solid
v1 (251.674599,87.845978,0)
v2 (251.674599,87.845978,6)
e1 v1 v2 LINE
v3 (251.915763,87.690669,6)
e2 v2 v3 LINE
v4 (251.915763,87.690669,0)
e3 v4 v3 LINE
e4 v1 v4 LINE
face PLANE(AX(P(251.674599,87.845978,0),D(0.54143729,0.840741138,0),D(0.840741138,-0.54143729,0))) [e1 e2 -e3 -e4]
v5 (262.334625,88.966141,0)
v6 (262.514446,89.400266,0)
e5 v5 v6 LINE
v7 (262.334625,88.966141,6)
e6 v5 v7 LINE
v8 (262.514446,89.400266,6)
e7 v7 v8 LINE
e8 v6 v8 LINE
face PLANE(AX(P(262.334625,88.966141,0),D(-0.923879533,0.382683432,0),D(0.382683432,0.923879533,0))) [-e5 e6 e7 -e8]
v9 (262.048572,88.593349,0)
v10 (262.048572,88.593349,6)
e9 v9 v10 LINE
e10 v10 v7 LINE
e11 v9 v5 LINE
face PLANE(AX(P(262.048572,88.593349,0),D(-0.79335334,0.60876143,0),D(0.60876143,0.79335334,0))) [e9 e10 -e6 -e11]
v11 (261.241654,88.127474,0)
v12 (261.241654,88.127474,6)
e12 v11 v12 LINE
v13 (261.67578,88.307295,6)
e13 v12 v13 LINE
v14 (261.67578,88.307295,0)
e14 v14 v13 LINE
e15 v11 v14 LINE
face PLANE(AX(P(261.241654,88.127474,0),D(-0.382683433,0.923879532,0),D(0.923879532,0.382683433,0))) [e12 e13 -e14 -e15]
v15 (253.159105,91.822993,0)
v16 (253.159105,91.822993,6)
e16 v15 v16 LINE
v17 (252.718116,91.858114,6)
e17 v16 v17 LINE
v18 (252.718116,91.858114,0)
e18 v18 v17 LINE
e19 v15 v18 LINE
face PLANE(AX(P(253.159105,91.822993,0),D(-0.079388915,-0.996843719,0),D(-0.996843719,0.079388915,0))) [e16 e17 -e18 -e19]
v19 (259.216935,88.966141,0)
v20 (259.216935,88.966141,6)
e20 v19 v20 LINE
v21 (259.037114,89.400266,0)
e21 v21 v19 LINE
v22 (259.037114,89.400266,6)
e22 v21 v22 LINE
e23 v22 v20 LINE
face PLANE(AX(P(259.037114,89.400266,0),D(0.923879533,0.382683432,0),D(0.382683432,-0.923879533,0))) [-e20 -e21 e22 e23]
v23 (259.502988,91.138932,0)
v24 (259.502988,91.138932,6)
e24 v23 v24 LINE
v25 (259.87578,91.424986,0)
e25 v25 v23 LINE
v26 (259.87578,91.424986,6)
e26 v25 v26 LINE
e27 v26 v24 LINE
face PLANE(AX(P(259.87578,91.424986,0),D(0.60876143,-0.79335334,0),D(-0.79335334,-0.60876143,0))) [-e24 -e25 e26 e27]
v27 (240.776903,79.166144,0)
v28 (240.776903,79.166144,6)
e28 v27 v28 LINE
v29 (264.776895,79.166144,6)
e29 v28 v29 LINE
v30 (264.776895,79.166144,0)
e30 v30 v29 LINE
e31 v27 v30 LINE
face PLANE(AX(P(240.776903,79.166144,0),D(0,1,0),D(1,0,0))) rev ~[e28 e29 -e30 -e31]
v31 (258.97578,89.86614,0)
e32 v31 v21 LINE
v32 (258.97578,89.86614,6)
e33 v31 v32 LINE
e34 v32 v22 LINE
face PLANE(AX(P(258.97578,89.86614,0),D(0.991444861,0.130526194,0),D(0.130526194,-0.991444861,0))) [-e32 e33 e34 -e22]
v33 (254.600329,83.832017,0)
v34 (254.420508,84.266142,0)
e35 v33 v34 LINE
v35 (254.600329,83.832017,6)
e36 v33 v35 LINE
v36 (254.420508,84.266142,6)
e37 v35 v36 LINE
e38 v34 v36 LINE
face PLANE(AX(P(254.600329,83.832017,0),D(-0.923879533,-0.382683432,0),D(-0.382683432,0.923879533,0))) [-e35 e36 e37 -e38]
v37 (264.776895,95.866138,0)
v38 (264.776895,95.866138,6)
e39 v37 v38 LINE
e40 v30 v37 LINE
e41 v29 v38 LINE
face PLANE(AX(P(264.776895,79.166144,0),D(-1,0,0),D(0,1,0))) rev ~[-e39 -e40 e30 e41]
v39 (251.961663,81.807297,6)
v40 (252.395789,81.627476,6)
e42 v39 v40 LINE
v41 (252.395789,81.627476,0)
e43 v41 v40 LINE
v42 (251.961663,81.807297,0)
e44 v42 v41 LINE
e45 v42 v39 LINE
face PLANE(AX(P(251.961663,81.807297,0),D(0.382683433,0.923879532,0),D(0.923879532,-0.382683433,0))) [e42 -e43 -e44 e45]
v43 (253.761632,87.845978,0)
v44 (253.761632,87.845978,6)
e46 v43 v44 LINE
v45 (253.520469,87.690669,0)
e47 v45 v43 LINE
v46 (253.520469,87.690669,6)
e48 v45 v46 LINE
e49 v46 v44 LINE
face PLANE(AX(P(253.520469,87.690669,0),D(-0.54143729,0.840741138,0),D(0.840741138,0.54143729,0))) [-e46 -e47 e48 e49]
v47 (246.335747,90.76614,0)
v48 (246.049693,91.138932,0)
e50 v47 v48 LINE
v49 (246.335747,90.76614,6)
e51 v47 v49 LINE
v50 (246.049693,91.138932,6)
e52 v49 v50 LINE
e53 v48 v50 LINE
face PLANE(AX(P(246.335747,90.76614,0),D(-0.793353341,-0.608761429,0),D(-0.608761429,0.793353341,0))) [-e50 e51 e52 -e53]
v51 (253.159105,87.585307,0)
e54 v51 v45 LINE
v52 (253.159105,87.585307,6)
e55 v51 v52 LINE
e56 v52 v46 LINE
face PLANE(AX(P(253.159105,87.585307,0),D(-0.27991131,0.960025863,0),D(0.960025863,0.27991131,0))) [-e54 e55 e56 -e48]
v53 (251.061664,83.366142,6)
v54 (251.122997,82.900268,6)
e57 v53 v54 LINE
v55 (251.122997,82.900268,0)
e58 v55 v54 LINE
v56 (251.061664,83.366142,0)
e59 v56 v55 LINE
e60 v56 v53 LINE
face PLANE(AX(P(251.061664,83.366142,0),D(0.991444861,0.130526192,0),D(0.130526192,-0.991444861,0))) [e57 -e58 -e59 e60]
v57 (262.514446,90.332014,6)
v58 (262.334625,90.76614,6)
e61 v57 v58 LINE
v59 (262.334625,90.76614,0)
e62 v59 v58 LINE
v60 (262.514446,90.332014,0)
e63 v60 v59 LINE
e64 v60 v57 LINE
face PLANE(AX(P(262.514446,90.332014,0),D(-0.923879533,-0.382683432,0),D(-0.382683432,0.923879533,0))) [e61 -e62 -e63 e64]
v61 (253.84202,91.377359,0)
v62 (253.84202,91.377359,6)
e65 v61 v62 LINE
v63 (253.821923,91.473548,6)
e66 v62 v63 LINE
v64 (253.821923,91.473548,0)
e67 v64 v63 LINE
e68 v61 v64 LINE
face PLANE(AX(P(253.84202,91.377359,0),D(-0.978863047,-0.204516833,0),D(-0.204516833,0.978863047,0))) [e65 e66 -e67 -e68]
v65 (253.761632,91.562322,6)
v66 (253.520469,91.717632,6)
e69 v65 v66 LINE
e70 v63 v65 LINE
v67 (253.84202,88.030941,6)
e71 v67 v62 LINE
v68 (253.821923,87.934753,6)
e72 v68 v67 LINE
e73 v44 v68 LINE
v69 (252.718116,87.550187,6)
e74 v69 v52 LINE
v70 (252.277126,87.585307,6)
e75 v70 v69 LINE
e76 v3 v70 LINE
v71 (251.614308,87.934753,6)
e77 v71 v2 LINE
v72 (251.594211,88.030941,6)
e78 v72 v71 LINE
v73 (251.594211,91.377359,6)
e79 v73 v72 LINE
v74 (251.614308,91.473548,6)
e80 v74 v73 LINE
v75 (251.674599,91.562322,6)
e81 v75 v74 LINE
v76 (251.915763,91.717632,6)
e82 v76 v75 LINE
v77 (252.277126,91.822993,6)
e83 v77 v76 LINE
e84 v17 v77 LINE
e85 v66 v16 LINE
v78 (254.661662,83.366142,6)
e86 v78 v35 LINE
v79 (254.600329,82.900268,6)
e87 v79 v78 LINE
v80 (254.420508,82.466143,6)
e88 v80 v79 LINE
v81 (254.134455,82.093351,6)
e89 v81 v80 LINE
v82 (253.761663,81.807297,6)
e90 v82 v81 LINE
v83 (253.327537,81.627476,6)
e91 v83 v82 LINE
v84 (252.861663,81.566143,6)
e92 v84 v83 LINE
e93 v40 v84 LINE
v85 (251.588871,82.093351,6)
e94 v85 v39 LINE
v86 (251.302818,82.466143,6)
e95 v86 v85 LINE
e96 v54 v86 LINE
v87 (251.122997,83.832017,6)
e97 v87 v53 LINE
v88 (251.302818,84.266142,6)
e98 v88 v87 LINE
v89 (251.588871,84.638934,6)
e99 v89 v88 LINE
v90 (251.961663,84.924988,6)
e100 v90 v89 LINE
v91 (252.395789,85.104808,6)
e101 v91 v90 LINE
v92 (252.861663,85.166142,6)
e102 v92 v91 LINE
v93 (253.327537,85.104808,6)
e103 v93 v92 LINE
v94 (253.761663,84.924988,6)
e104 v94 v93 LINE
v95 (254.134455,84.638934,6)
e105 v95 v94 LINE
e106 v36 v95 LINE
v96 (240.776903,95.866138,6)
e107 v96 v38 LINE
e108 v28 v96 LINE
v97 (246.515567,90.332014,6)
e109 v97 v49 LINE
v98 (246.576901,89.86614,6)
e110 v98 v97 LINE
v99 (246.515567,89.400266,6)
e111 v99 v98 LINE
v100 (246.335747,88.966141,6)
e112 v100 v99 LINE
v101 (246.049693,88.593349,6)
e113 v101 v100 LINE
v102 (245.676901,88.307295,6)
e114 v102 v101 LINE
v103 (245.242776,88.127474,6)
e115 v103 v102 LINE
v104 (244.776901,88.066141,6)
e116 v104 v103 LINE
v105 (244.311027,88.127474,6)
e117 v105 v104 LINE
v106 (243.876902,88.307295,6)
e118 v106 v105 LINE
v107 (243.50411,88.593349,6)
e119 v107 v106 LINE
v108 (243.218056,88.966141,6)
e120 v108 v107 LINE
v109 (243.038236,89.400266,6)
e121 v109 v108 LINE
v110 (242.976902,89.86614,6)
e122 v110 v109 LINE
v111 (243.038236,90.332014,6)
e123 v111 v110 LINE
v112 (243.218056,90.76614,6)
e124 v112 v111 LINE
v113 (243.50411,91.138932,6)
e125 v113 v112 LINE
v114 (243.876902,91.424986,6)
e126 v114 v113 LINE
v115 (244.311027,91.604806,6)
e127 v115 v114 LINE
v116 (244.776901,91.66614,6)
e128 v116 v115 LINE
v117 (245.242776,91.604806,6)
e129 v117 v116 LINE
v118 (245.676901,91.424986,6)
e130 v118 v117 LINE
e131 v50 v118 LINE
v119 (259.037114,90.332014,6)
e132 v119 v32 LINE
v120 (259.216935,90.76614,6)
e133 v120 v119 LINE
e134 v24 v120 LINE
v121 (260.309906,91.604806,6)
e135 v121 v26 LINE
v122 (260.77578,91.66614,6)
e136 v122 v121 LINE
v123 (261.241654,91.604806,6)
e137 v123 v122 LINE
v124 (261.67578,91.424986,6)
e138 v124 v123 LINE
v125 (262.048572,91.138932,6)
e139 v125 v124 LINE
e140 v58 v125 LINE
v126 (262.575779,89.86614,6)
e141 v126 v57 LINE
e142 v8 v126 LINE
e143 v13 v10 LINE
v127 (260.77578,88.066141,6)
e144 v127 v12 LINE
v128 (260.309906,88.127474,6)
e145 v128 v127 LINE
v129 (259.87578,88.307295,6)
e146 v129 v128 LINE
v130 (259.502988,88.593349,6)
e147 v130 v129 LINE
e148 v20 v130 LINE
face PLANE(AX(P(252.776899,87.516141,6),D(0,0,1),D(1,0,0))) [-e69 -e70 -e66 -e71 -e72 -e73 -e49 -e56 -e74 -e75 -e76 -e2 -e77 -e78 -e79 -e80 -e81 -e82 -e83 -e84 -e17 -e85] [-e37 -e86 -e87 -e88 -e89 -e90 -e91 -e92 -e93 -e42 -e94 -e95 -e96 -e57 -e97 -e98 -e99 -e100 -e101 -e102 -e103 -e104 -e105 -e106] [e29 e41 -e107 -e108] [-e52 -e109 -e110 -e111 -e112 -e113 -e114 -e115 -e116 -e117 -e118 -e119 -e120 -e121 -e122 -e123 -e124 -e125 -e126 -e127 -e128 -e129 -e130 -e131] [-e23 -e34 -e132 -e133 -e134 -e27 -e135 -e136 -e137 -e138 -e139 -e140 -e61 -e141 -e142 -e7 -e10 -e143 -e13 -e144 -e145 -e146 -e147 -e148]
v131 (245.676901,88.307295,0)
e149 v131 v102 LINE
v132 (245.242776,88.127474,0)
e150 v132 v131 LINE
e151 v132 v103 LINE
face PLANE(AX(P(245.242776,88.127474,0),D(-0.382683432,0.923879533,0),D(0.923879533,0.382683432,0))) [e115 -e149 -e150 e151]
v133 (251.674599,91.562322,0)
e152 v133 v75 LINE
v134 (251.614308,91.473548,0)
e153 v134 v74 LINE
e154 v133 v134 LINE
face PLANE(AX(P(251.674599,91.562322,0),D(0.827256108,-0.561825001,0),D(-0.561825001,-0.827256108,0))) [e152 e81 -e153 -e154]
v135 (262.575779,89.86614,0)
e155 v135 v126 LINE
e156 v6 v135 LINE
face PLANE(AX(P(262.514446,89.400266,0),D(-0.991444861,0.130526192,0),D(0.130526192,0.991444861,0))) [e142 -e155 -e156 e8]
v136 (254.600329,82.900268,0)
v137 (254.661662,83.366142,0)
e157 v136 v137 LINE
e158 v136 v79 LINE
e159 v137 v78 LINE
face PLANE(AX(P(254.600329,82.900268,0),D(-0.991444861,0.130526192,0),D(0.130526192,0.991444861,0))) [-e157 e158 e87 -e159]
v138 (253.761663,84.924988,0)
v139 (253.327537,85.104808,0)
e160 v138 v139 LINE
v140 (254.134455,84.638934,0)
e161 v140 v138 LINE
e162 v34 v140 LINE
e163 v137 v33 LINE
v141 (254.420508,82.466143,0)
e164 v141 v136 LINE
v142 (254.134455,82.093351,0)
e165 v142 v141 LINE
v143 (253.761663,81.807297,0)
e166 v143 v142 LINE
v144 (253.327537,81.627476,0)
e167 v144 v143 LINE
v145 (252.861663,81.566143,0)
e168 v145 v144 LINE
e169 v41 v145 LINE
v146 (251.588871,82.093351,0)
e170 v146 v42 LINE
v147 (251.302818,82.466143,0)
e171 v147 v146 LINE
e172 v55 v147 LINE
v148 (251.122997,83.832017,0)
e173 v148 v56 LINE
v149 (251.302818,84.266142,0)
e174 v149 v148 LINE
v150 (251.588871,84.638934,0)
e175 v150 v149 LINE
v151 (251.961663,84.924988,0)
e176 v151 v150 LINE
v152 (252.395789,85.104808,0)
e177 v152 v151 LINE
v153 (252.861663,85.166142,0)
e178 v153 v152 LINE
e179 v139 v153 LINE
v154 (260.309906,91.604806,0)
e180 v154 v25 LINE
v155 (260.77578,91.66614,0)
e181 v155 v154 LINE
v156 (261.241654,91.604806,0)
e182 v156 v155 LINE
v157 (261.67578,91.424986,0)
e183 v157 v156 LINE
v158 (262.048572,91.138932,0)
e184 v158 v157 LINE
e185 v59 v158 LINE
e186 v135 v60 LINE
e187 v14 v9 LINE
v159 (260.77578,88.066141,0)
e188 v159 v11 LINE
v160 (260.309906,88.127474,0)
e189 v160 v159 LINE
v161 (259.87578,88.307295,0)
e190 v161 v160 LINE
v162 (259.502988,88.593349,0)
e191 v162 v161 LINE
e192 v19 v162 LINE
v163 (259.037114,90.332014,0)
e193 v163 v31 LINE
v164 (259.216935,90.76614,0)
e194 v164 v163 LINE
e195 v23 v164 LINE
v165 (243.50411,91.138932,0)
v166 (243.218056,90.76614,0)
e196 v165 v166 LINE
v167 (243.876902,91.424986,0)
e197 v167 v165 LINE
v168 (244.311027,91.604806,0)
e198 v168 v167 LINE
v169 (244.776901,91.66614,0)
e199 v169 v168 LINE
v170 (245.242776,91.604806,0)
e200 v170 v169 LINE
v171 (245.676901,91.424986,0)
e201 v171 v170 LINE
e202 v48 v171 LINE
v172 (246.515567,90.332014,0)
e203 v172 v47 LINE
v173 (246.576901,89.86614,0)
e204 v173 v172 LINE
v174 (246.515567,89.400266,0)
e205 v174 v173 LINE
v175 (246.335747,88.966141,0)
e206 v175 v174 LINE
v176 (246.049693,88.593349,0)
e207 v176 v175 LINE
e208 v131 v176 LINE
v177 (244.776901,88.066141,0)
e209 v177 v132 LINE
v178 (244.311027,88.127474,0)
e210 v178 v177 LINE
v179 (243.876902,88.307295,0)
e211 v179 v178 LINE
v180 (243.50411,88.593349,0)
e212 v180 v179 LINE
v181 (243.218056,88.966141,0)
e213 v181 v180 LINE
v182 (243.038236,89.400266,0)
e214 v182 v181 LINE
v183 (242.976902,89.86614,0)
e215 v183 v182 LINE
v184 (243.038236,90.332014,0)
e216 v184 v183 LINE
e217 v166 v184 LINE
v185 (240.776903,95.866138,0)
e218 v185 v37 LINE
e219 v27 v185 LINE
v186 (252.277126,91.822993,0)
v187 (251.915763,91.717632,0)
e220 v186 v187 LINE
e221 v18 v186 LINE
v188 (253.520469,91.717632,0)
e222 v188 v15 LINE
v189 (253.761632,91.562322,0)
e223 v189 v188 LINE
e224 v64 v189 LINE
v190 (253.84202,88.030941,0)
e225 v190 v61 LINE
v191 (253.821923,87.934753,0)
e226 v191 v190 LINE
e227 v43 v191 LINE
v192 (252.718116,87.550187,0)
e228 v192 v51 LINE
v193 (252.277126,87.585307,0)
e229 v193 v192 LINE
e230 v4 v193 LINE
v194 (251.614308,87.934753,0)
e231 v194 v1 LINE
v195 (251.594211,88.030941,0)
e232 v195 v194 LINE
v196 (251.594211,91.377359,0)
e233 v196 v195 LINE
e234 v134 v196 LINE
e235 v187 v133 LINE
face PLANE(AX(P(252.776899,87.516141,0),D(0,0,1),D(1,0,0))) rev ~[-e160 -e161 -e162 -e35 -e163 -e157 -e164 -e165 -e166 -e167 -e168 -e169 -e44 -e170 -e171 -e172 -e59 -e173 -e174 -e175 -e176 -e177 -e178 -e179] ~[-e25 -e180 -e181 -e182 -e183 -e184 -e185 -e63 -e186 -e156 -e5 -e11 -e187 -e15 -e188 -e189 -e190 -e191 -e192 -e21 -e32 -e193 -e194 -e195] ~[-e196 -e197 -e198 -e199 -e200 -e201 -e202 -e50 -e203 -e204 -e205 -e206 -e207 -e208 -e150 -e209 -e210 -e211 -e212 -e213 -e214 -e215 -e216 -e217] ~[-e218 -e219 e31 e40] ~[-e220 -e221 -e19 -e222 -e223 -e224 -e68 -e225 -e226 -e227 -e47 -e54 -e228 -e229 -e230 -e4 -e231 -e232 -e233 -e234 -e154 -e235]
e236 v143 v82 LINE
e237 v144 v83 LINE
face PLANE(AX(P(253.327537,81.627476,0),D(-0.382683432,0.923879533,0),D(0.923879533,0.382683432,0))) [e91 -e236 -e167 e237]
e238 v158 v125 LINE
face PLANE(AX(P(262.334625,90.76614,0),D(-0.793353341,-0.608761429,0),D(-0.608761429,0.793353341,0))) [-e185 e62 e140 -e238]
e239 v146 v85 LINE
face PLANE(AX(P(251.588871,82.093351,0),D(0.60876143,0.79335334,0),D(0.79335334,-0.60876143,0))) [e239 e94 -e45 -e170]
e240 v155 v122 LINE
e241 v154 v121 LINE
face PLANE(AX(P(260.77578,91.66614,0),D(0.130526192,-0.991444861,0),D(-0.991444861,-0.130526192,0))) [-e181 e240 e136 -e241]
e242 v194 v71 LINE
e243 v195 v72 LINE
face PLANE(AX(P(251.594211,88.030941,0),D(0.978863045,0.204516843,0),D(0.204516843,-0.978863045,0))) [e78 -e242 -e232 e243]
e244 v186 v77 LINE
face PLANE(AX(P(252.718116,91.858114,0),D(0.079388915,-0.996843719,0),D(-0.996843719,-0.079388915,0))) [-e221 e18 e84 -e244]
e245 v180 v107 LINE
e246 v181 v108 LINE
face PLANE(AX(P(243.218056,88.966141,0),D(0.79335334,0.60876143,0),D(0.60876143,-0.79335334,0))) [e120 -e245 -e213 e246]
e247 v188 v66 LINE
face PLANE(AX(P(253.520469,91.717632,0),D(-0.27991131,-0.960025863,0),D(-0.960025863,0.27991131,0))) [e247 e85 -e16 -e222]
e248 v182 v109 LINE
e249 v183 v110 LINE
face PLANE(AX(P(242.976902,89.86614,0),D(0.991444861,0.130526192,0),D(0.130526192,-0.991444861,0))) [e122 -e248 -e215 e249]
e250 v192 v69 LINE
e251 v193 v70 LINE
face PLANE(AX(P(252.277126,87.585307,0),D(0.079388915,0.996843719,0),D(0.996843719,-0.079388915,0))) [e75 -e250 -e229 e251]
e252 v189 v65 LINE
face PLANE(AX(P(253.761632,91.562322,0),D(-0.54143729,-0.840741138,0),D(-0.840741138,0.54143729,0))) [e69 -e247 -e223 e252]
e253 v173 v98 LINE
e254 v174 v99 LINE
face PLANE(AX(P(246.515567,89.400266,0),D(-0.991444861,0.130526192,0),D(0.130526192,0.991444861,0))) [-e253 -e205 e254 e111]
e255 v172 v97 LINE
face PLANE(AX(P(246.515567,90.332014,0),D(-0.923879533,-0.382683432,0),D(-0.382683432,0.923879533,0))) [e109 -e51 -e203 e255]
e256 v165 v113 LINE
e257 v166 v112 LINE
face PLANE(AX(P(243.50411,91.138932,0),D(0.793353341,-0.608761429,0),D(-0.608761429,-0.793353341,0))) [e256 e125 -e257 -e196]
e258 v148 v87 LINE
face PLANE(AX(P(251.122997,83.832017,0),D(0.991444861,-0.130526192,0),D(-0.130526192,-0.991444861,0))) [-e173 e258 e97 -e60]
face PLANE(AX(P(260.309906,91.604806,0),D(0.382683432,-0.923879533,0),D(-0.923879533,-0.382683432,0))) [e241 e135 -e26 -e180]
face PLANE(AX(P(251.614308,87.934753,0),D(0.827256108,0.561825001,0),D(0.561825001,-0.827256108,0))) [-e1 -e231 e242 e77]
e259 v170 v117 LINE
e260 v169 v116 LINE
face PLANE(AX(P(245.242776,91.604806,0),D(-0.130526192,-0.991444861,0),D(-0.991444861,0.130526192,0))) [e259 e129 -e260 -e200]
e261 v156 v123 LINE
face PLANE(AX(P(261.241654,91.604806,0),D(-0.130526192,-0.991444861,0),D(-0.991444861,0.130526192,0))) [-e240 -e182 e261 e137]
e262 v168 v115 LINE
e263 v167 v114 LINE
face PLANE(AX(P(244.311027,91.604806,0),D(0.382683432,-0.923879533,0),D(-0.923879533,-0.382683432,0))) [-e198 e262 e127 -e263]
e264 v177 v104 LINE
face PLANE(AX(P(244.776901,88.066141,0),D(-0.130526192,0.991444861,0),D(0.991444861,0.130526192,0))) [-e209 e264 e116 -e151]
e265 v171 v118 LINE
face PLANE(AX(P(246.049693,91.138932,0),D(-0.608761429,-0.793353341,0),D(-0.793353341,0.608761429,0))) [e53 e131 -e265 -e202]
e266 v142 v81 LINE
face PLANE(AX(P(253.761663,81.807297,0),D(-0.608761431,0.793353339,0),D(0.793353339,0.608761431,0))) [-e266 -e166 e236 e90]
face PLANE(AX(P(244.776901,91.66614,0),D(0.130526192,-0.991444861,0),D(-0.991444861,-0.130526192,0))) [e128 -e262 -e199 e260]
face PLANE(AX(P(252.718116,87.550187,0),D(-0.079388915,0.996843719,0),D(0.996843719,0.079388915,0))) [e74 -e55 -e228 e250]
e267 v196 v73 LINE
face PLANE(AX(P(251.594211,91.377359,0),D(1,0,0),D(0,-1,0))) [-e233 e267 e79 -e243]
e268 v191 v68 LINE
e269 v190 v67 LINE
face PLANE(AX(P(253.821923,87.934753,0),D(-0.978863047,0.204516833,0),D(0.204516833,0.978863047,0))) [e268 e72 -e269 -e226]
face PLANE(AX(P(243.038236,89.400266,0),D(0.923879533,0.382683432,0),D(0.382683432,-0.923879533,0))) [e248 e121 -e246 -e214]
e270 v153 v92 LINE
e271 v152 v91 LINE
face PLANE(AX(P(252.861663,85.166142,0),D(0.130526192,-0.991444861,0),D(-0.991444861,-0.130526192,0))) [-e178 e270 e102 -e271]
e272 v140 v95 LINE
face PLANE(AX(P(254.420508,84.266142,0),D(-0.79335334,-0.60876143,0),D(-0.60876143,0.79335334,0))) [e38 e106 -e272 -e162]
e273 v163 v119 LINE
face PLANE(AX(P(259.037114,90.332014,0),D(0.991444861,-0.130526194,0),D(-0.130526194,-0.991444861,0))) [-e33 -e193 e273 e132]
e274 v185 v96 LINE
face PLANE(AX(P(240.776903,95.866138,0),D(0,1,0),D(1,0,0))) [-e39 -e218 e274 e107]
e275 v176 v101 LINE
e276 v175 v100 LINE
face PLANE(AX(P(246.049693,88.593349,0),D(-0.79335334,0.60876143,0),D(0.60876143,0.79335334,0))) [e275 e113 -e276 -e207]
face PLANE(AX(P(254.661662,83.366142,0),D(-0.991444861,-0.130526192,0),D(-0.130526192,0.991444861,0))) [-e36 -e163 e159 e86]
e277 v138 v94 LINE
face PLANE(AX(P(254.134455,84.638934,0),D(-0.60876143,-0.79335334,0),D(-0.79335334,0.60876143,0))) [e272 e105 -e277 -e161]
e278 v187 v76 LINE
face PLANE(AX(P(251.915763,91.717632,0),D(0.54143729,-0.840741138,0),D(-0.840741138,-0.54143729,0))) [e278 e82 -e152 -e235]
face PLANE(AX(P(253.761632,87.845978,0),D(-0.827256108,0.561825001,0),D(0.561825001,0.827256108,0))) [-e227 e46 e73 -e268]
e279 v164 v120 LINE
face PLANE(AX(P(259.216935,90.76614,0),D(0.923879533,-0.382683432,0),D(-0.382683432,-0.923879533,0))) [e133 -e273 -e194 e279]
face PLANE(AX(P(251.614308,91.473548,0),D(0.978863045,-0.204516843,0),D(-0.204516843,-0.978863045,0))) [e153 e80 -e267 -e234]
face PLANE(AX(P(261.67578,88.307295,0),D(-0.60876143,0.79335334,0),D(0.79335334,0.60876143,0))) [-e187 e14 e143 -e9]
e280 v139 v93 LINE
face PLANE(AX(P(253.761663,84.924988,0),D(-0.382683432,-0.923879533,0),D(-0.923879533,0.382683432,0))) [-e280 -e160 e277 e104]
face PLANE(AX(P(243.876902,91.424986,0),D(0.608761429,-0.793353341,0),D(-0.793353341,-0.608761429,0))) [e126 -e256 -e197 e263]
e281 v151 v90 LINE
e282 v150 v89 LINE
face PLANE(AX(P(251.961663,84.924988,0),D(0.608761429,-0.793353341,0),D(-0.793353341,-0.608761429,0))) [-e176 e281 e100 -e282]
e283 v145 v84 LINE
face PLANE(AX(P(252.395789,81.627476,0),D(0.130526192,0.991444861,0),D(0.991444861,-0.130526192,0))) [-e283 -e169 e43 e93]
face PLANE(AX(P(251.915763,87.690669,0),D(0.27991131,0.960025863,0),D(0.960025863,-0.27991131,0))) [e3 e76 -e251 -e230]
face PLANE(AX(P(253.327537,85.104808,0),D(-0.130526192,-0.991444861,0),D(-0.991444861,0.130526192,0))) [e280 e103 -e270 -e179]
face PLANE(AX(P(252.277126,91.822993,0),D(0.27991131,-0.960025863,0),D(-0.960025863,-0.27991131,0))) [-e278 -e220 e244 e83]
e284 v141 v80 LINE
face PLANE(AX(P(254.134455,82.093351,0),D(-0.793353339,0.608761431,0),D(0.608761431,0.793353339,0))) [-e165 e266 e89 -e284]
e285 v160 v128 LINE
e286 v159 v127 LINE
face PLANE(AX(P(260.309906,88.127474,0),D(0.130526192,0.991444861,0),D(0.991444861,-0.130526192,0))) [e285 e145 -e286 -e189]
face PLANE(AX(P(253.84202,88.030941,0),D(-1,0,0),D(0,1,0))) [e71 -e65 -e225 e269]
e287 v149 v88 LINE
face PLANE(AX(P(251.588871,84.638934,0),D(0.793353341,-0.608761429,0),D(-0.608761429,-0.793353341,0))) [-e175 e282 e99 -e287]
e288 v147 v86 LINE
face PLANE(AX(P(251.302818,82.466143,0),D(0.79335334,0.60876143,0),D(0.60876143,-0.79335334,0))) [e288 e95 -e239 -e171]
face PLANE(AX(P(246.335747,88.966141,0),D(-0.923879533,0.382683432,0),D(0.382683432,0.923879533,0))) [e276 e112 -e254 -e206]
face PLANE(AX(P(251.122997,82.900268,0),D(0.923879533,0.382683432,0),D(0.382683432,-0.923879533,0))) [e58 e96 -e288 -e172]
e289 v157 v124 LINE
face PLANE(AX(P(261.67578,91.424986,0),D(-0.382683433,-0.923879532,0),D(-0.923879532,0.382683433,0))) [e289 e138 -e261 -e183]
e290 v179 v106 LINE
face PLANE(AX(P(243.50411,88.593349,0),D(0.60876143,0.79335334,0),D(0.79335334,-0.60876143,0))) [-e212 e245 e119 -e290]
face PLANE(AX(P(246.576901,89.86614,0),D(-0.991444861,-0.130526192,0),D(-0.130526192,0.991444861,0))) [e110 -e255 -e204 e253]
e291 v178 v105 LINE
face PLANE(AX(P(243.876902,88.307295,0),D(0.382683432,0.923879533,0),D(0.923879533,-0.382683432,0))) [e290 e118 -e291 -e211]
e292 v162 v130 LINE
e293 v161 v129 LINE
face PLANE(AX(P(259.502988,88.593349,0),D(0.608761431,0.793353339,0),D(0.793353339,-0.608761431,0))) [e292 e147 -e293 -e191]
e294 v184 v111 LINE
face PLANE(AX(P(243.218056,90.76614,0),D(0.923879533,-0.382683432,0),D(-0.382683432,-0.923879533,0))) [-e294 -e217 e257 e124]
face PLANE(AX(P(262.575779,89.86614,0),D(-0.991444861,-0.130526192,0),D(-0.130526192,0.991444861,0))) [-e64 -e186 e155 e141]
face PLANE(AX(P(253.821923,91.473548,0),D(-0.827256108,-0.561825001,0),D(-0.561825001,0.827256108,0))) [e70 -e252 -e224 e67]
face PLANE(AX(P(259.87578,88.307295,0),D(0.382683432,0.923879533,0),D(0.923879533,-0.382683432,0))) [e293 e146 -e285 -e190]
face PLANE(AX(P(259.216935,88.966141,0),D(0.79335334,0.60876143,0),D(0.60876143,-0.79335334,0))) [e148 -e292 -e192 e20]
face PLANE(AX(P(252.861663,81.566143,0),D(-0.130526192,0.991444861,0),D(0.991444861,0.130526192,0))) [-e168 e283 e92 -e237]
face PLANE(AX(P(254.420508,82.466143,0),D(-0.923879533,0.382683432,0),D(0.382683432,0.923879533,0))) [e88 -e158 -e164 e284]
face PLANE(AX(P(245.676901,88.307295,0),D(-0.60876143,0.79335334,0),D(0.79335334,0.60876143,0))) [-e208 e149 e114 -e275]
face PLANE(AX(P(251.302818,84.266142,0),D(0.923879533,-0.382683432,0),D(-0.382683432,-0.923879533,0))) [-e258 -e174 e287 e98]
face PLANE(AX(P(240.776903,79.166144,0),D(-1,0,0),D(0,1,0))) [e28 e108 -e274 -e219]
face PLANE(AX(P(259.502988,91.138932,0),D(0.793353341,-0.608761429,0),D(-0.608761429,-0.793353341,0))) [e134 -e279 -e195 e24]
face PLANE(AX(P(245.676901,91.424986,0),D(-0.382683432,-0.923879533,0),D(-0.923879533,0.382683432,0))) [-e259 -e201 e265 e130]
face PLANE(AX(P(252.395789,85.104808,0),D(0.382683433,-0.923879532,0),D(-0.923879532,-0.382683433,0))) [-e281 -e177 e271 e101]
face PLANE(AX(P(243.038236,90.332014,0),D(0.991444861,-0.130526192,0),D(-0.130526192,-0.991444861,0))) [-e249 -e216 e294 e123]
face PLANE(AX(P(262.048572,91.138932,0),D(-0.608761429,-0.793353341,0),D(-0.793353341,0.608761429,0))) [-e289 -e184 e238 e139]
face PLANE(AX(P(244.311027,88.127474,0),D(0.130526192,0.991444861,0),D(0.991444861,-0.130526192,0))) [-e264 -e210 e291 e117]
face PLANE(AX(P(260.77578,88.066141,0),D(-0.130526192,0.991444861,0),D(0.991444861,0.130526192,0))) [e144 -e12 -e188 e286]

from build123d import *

# Parameters (mm, degrees)
SKETCH1_W           = 23.99999232
SKETCH1_H           = 16.699994656
BOSS_EXTRUDE1_DEPTH = 6


with BuildPart() as part:
    # Sketch1 → Boss-Extrude1 (new body)
    with BuildSketch(Plane.XY):
        with Locations((252.776898883, 87.516141094)):
            Rectangle(SKETCH1_W, SKETCH1_H)
        Polygon((254.420508276, 82.46614271), (254.600328979, 82.90026829), (254.661662472, 83.366142422), (254.600328979, 83.832016554), (254.420508276, 84.266142134), (254.134454846, 84.638934221), (253.76166276, 84.92498765), (253.32753718, 85.104808353), (252.861663048, 85.166141846), (252.395788915, 85.104808353), (251.961663336, 84.92498765), (251.588871249, 84.638934221), (251.30281782, 84.266142134), (251.122997117, 83.832016554), (251.061663624, 83.366142422), (251.122997117, 82.90026829), (251.30281782, 82.46614271), (251.588871249, 82.093350624), (251.961663336, 81.807297194), (252.395788915, 81.627476491), (252.861663048, 81.566142998), (253.32753718, 81.627476491), (253.76166276, 81.807297194), (254.134454846, 82.093350624), align=None, mode=Mode.SUBTRACT)
        Polygon((260.30990578, 88.127474411), (260.775779912, 88.066140918), (261.241654045, 88.127474411), (261.675779624, 88.307295114), (262.048571711, 88.593348544), (262.33462514, 88.96614063), (262.514445843, 89.40026621), (262.575779336, 89.866140342), (262.514445843, 90.332014474), (262.33462514, 90.766140054), (262.048571711, 91.138932141), (261.675779624, 91.42498557), (261.241654045, 91.604806273), (260.775779912, 91.666139766), (260.30990578, 91.604806273), (259.8757802, 91.42498557), (259.502988114, 91.138932141), (259.216934685, 90.766140054), (259.037113982, 90.332014474), (258.975780488, 89.866140342), (259.037113982, 89.40026621), (259.216934685, 88.96614063), (259.502988114, 88.593348544), (259.8757802, 88.307295114), align=None, mode=Mode.SUBTRACT)
        Polygon((246.335746671, 90.766140054), (246.049693242, 91.138932141), (245.676901155, 91.42498557), (245.242775575, 91.604806273), (244.776901443, 91.666139766), (244.311027311, 91.604806273), (243.876901731, 91.42498557), (243.504109644, 91.138932141), (243.218056215, 90.766140054), (243.038235512, 90.332014474), (242.976902019, 89.866140342), (243.038235512, 89.40026621), (243.218056215, 88.96614063), (243.504109644, 88.593348544), (243.876901731, 88.307295114), (244.311027311, 88.127474411), (244.776901443, 88.066140918), (245.242775575, 88.127474411), (245.676901155, 88.307295114), (246.049693242, 88.593348544), (246.335746671, 88.96614063), (246.515567374, 89.40026621), (246.576900867, 89.866140342), (246.515567374, 90.332014474), align=None, mode=Mode.SUBTRACT)
        Polygon((251.594211482, 88.030941424), (251.614308424, 87.934752995), (251.674599249, 87.845978104), (251.91576255, 87.690668939), (252.277126402, 87.585307372), (252.718115827, 87.55018685), (253.159105252, 87.585307372), (253.520469104, 87.690668939), (253.761632405, 87.845978104), (253.82192323, 87.934752995), (253.842020171, 88.030941424), (253.842020171, 91.377359106), (253.82192323, 91.473547535), (253.761632405, 91.562322426), (253.520469104, 91.717631591), (253.159105252, 91.822993158), (252.718115827, 91.85811368), (252.277126402, 91.822993158), (251.91576255, 91.717631591), (251.674599249, 91.562322426), (251.614308424, 91.473547535), (251.594211482, 91.377359106), align=None, mode=Mode.SUBTRACT)
    extrude(amount=BOSS_EXTRUDE1_DEPTH)


solid = part.part
